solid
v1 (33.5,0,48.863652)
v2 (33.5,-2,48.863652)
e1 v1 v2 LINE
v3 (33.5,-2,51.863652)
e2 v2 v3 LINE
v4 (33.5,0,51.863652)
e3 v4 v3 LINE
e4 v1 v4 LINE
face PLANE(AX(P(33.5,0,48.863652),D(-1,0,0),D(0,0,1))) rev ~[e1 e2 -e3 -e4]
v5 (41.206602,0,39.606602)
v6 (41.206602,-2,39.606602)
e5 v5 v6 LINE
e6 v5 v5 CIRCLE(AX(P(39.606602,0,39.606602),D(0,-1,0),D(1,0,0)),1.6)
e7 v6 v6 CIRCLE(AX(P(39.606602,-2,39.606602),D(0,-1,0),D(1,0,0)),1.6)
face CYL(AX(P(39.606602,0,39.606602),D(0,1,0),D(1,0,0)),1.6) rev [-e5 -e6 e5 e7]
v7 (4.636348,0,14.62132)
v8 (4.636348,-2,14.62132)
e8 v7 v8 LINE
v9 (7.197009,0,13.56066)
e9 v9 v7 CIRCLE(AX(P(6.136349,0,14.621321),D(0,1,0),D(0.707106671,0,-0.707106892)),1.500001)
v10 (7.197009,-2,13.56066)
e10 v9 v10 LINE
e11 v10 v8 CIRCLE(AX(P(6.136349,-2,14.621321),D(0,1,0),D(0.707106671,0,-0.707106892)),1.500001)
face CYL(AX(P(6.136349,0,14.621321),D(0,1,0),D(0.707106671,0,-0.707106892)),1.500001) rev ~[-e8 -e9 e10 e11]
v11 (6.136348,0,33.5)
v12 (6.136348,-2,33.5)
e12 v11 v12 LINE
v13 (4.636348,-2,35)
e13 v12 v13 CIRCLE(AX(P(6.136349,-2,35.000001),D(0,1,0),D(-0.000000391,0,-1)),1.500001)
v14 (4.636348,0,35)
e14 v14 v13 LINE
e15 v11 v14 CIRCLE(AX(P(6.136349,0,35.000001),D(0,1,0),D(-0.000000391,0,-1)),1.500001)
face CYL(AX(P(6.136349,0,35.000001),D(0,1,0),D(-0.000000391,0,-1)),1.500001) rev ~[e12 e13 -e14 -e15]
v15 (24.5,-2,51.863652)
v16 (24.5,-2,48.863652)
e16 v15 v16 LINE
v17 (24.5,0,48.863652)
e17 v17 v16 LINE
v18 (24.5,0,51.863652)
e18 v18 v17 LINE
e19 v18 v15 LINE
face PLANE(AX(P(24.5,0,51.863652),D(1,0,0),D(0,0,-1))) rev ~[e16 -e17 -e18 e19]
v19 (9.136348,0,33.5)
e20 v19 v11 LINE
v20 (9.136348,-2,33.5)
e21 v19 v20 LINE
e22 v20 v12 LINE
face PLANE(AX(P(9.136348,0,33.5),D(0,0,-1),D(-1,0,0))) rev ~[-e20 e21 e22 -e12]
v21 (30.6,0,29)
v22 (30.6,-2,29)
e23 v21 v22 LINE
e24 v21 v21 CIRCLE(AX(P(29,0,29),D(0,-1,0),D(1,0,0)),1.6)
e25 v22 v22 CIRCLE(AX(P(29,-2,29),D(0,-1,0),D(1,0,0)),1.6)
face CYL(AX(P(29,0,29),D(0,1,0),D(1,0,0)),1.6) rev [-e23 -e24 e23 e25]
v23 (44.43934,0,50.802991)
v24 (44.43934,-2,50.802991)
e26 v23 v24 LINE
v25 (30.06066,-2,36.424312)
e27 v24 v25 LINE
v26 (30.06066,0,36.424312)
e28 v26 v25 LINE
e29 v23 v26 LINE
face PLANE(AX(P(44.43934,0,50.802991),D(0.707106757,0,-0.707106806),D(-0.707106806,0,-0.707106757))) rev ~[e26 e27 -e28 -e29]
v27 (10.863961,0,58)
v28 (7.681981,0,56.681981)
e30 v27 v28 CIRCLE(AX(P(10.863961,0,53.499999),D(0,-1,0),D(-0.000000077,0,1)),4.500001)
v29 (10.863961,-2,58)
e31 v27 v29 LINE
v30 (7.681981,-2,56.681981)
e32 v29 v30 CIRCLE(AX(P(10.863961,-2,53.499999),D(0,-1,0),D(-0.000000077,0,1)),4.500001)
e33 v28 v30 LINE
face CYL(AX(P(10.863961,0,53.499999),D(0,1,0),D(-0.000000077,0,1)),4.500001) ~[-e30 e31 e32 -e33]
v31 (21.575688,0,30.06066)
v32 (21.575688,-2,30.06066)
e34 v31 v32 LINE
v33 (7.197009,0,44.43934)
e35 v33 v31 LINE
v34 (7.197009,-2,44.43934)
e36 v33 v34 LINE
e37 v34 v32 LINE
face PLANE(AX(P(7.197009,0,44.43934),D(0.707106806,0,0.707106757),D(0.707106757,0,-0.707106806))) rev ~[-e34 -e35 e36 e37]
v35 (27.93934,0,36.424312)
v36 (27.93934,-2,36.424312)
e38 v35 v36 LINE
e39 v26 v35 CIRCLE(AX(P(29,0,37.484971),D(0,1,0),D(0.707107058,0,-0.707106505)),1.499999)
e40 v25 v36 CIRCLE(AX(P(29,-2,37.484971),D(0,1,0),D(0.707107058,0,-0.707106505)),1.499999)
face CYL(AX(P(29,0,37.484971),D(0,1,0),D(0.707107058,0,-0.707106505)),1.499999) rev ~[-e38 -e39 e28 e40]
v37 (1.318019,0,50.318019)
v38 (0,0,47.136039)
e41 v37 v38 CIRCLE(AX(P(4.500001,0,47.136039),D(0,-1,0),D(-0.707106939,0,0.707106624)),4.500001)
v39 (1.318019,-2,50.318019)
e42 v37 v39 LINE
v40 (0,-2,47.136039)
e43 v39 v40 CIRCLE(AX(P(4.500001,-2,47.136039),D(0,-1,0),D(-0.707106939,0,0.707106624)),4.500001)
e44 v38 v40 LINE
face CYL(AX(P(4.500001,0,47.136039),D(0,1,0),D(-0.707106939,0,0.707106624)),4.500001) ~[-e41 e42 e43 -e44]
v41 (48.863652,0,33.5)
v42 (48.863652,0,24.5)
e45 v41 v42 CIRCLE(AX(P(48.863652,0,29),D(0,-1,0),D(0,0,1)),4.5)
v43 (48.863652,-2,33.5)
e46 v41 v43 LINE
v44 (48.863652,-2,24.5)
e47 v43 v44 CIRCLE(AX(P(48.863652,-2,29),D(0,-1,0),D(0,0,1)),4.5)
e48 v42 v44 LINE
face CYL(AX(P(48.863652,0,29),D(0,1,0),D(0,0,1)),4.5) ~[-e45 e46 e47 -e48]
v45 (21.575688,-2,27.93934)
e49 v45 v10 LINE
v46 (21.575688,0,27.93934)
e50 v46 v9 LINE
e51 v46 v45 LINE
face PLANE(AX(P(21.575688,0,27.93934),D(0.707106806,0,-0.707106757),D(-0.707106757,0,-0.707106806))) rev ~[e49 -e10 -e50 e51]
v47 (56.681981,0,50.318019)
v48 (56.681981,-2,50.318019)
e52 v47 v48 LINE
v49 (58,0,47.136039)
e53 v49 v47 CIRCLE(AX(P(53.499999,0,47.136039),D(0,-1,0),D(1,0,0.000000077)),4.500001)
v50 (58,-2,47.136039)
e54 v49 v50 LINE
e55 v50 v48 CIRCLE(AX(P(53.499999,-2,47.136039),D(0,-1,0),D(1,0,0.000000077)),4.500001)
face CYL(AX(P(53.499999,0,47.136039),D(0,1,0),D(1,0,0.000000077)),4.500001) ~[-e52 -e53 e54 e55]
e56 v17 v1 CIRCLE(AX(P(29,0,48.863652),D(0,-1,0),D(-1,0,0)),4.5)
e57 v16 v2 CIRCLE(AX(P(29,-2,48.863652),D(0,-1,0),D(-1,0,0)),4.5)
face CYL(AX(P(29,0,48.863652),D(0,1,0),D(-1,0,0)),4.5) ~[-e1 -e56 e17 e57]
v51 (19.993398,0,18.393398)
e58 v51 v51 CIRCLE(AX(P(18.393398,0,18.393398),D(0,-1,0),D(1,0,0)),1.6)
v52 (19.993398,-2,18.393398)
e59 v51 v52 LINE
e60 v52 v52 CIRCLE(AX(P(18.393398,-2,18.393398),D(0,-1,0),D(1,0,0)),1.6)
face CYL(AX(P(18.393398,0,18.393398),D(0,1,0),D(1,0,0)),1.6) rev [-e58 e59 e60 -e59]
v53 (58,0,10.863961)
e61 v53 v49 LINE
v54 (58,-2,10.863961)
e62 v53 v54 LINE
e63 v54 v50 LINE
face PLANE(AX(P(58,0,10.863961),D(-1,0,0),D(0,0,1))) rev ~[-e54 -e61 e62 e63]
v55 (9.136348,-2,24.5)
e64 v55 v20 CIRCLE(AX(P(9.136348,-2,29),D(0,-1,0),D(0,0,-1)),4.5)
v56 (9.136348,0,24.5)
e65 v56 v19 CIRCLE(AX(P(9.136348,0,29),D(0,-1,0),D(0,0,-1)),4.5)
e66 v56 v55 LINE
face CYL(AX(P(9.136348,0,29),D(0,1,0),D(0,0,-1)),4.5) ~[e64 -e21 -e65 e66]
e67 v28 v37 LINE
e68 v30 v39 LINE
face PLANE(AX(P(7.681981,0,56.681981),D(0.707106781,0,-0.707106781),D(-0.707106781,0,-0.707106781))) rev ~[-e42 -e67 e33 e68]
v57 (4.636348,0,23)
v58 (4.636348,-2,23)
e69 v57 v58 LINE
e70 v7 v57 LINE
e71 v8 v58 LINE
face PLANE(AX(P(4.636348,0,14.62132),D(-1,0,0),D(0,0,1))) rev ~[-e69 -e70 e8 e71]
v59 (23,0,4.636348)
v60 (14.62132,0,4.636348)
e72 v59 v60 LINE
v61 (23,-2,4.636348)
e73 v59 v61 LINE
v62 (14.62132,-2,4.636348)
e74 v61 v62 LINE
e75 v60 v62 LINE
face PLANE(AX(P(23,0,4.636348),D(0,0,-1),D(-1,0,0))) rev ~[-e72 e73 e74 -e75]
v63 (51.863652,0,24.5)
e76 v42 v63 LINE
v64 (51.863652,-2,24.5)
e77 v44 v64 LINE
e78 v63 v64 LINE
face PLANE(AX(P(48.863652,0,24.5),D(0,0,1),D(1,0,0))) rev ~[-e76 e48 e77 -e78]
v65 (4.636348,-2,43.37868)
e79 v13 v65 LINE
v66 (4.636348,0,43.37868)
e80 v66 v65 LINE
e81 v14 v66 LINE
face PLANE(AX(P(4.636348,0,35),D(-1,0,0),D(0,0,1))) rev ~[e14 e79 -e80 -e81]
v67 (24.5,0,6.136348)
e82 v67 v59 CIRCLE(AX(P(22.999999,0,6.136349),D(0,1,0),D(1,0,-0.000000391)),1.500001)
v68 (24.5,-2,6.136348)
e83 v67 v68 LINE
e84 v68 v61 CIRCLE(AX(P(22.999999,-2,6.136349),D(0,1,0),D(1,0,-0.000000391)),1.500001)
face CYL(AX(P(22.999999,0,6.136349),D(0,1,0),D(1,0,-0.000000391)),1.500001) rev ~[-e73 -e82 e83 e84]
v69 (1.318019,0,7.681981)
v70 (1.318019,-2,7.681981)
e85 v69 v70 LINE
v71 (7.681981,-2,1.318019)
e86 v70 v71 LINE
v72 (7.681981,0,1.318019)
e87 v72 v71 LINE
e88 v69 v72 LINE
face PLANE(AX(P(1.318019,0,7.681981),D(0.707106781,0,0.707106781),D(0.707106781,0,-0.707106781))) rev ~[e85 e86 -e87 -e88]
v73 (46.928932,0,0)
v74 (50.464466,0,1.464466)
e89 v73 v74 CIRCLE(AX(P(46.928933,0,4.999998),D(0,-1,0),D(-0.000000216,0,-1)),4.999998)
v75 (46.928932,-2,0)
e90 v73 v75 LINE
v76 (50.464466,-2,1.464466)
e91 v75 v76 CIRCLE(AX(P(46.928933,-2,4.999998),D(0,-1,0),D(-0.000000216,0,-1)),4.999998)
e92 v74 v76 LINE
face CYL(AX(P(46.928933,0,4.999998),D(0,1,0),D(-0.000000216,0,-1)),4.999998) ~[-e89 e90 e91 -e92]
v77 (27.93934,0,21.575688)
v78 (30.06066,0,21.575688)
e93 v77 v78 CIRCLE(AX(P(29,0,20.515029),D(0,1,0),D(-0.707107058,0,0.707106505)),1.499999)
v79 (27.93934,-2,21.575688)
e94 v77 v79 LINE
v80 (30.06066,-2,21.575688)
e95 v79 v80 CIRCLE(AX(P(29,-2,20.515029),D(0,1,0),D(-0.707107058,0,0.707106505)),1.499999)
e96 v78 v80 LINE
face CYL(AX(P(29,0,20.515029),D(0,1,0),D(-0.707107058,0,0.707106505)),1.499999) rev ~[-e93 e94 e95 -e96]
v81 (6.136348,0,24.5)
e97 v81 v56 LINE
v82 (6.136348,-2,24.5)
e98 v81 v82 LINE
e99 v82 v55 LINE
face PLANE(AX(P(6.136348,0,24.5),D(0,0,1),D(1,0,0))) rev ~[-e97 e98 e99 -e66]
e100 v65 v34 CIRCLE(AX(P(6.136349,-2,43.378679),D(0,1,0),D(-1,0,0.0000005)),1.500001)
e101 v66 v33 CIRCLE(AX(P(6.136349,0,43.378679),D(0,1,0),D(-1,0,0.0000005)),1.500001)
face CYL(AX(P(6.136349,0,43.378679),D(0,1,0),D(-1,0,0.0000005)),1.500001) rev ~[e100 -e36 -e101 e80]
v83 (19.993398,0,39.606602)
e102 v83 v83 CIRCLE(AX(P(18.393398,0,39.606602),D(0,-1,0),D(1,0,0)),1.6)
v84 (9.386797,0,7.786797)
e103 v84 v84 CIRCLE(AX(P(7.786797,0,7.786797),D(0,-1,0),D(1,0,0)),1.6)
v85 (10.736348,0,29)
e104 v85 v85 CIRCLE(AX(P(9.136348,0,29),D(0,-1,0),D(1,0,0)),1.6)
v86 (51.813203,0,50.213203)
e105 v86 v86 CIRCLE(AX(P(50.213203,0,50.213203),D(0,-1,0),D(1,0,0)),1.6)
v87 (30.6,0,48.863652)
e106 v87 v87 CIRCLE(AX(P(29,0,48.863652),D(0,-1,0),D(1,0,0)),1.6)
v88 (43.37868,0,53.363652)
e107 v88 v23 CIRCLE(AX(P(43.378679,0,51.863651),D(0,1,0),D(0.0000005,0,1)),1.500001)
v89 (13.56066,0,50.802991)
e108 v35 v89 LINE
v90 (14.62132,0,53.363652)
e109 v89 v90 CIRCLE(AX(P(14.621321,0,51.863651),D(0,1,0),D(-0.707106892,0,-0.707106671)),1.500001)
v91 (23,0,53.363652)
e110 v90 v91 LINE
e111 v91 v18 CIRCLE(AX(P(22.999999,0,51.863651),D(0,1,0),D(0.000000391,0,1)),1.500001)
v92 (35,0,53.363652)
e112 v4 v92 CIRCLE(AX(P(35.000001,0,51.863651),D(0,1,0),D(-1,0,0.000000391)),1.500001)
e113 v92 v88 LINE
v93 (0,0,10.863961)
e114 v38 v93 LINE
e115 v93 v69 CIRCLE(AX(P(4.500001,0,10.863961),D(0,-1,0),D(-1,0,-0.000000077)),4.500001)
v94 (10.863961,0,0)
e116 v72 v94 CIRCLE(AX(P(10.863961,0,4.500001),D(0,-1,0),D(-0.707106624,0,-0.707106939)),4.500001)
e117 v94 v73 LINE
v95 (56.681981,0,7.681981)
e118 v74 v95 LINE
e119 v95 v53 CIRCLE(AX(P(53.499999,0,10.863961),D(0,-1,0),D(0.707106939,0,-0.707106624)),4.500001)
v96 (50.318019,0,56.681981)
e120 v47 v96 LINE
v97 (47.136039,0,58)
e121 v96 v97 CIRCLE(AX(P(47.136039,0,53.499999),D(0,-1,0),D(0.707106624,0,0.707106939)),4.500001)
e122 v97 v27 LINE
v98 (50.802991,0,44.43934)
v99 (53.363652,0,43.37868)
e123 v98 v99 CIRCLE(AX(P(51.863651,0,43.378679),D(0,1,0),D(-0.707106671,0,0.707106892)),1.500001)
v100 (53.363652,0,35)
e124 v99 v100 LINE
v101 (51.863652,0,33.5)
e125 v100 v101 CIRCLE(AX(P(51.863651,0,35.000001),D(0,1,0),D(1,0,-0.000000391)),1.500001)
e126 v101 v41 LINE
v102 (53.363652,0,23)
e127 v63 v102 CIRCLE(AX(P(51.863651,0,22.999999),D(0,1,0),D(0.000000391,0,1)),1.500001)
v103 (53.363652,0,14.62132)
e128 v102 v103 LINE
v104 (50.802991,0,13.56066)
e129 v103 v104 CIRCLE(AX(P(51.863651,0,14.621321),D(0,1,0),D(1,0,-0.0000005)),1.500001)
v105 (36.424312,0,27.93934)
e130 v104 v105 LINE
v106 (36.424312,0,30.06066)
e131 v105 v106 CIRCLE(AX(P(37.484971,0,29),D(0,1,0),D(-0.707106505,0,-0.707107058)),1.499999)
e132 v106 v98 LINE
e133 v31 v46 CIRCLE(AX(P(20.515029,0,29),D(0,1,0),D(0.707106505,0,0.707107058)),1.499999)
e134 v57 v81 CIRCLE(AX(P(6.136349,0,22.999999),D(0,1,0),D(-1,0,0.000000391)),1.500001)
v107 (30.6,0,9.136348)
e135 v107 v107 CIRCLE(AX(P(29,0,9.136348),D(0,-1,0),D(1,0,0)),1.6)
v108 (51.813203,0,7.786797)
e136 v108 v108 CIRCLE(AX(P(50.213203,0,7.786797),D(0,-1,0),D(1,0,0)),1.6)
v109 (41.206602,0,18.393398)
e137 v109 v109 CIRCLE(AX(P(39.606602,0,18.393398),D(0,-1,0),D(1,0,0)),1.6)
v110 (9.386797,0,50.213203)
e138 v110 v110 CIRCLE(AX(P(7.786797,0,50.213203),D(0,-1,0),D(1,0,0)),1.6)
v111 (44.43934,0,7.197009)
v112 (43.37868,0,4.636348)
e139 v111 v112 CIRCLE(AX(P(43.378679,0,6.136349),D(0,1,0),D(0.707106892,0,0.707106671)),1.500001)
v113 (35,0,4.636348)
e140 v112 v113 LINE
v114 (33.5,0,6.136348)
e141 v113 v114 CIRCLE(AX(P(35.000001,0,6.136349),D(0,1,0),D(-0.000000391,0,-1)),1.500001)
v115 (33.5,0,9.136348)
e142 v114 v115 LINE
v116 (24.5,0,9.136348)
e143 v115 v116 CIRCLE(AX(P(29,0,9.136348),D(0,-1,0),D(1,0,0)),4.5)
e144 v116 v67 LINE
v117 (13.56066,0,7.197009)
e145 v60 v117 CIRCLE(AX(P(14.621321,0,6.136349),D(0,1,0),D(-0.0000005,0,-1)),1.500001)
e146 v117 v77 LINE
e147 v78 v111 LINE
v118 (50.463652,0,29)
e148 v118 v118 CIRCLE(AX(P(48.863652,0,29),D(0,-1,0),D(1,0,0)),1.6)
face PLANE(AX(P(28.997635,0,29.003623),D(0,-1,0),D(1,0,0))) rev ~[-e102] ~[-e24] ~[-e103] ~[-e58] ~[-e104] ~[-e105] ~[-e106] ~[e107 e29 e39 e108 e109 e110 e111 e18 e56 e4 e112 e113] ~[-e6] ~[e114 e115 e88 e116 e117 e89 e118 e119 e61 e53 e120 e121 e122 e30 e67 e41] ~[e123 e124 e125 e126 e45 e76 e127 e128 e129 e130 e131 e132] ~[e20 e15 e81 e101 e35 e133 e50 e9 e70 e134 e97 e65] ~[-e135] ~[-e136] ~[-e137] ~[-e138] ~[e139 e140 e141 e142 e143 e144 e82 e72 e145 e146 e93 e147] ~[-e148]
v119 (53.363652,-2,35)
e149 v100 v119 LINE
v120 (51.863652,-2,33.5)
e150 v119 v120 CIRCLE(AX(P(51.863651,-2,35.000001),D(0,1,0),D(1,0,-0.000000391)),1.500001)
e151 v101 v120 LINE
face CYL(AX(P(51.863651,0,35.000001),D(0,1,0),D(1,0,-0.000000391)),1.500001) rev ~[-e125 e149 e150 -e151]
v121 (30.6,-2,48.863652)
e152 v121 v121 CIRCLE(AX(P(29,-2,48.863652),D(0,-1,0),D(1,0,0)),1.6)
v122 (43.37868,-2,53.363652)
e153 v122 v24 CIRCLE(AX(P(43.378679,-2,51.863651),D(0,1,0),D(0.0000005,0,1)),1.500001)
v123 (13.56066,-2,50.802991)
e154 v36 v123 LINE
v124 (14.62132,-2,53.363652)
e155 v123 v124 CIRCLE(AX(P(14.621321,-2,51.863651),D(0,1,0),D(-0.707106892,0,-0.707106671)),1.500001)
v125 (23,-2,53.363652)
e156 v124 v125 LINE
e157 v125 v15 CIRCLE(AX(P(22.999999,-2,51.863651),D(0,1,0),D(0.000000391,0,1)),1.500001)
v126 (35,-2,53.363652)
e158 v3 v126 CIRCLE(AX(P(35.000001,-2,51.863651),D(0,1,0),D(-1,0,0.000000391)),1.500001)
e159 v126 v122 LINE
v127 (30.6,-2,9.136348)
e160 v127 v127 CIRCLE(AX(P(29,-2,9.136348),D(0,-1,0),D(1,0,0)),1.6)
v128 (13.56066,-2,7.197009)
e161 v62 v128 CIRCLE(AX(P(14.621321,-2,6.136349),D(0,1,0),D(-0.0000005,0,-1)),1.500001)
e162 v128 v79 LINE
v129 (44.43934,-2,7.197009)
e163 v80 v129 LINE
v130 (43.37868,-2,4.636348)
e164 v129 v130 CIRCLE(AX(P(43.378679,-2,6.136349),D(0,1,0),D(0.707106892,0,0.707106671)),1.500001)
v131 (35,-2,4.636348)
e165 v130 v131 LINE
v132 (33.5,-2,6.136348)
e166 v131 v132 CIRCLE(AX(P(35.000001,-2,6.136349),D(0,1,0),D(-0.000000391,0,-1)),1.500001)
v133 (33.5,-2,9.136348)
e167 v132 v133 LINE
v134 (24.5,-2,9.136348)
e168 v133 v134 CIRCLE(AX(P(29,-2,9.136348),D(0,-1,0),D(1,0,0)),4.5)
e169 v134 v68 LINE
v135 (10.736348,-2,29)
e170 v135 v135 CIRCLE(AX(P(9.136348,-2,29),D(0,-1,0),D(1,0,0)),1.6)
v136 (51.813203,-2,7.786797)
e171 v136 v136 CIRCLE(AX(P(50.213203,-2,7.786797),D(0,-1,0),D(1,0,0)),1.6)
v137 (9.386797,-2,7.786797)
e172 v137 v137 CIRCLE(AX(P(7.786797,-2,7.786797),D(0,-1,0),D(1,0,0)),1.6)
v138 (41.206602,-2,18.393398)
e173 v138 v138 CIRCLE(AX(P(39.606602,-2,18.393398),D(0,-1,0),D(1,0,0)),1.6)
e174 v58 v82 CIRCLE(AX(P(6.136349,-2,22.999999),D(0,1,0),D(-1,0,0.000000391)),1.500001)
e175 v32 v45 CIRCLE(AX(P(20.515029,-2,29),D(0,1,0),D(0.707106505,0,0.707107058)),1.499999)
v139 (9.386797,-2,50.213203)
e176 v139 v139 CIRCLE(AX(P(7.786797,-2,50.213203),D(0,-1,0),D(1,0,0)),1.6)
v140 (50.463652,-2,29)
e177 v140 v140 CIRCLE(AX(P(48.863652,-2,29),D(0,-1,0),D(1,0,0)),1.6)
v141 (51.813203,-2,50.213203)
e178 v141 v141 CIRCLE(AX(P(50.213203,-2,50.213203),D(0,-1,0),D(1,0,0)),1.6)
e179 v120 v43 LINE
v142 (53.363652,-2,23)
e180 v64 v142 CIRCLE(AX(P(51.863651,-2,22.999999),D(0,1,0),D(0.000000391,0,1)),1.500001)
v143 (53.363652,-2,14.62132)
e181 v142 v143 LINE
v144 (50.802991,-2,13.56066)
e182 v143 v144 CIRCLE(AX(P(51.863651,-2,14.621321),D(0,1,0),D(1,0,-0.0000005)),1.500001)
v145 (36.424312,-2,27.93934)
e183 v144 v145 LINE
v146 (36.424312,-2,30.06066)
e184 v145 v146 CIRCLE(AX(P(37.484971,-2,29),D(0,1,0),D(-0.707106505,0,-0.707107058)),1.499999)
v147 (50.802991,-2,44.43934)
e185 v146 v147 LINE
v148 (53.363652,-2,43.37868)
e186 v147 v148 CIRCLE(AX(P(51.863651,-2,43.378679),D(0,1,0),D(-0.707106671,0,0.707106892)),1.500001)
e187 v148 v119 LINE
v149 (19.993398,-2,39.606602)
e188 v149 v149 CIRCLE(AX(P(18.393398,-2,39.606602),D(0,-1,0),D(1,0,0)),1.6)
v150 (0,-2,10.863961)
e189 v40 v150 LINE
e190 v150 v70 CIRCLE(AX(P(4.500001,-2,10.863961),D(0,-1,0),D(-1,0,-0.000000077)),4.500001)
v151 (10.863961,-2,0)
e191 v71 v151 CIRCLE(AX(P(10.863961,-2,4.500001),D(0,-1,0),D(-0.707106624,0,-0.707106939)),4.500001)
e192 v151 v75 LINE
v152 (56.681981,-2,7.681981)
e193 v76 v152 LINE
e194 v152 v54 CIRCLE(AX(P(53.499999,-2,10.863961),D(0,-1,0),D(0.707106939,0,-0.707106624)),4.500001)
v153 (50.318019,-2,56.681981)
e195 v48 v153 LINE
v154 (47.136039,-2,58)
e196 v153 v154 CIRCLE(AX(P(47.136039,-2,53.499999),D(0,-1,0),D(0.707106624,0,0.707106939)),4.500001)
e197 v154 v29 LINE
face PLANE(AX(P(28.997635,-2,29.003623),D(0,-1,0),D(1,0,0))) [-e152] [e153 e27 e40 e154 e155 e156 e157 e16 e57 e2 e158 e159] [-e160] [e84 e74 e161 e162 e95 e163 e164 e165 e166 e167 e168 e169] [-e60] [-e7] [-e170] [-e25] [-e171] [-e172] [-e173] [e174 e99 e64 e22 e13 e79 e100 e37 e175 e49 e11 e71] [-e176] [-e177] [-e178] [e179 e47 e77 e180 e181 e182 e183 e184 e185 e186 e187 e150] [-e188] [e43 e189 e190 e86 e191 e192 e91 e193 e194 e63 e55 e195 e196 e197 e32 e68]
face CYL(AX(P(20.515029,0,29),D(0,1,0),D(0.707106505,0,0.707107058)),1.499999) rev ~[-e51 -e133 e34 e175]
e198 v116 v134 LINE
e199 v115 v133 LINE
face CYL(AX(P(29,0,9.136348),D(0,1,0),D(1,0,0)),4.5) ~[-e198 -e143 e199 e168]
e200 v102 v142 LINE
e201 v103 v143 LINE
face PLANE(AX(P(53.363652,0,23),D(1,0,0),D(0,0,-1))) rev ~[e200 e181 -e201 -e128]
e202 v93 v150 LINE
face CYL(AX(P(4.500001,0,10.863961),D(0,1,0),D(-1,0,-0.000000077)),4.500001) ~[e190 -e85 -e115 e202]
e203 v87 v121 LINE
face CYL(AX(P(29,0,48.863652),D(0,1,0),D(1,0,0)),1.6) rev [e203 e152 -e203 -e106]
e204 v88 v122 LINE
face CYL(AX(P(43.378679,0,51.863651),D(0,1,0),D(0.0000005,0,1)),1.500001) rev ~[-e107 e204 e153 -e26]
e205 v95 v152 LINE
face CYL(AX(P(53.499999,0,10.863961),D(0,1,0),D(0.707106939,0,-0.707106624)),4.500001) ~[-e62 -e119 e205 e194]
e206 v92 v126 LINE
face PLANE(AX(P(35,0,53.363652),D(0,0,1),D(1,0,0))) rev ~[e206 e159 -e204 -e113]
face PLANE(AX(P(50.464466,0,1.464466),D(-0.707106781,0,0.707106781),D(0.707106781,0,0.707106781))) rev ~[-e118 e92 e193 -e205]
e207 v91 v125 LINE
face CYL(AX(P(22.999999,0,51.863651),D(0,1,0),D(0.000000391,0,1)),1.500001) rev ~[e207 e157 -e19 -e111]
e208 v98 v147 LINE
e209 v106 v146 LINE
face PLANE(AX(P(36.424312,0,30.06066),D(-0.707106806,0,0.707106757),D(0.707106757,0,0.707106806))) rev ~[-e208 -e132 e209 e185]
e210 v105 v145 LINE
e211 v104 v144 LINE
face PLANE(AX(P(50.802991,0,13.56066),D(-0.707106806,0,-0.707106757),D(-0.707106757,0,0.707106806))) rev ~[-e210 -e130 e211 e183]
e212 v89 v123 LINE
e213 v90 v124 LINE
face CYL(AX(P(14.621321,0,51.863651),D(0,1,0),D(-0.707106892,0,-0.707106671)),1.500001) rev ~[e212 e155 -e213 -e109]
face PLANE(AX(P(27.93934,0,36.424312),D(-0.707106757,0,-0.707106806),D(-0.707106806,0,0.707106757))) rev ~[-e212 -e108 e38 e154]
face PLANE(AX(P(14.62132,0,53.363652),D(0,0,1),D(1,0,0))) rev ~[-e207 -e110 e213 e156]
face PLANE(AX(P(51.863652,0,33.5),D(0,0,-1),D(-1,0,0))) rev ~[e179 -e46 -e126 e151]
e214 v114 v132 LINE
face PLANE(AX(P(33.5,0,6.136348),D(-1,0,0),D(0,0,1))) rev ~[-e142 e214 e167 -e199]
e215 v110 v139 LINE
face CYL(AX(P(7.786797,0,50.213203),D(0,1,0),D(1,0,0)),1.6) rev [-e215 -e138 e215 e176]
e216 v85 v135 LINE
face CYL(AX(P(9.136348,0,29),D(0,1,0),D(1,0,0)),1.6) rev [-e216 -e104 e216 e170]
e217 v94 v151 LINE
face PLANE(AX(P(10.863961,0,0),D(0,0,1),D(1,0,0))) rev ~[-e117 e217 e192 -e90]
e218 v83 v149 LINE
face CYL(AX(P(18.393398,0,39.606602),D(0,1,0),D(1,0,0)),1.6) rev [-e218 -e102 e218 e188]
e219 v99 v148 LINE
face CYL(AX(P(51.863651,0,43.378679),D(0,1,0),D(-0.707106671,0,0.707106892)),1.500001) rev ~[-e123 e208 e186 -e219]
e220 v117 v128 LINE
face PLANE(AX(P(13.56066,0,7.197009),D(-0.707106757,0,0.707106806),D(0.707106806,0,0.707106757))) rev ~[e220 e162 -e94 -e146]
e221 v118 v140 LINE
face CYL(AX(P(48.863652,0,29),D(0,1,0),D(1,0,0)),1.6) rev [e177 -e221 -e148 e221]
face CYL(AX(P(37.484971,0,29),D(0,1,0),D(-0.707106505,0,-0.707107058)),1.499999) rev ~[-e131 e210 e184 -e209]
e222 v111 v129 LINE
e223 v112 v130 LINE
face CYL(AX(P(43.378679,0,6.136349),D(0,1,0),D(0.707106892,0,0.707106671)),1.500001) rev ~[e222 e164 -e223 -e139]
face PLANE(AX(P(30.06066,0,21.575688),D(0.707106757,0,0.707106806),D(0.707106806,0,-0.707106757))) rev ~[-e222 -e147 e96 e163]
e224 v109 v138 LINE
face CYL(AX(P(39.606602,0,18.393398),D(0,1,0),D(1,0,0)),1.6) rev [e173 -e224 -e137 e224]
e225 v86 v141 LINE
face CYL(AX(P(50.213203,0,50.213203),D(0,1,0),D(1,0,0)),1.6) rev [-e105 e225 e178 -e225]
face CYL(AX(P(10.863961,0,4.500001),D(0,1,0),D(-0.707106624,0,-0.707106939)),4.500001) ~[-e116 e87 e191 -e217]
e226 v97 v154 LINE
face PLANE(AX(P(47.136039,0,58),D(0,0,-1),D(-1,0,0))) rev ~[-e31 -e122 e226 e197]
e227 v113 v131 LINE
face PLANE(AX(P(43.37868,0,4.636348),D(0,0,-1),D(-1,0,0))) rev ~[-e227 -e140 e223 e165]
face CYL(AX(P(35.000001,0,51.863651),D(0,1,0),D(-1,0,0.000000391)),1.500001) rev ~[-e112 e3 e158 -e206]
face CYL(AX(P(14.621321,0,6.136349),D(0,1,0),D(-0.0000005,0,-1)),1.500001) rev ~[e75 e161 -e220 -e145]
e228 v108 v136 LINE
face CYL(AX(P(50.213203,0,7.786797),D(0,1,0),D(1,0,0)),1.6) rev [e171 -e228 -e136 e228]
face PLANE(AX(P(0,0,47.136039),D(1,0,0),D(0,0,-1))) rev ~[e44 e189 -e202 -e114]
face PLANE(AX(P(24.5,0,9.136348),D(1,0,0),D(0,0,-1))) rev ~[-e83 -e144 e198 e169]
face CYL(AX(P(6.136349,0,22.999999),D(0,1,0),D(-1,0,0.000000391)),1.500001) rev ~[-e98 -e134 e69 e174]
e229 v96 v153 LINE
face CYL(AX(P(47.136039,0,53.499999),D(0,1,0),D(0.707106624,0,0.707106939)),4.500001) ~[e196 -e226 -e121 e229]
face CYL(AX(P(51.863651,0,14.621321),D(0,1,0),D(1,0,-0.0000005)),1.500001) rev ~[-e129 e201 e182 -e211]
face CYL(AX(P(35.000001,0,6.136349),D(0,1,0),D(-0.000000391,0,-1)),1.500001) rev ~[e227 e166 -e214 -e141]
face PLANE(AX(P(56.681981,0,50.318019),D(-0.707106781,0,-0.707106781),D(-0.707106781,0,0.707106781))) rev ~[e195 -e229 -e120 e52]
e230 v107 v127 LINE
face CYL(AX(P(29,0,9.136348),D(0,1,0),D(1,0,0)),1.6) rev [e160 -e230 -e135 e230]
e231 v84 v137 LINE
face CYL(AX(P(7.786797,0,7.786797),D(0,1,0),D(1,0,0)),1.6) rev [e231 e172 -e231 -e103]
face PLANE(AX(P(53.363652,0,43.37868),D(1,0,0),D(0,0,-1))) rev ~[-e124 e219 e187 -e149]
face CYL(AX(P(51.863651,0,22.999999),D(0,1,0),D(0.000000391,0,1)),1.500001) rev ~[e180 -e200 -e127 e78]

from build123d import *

# Parameters (mm, degrees)
F1_R     = 1.6
F2_DEPTH = 2


with BuildPart() as f2:
    # F1 (on Front) → F2 (new body)
    with BuildSketch(Plane.XZ):
        with BuildLine():
            Line((47.136039, 58), (10.863961, 58))
            ThreePointArc((10.863961, 58), (9.141886, 57.657458), (7.681981, 56.681981))
            Line((7.681981, 56.681981), (1.318019, 50.318019))
            ThreePointArc((1.318019, 50.318019), (0.342542, 48.858114), (0, 47.136039))
            Line((0, 47.136039), (0, 10.863961))
            ThreePointArc((0, 10.863961), (0.342542, 9.141886), (1.318019, 7.681981))
            Line((1.318019, 7.681981), (7.681981, 1.318019))
            ThreePointArc((7.681981, 1.318019), (9.141886, 0.342542), (10.863961, 0))
            Line((10.863961, 0), (46.928932, 0))
            ThreePointArc((46.928932, 0), (48.842349, 0.380602), (50.464466, 1.464466))
            Line((50.464466, 1.464466), (56.681981, 7.681981))
            ThreePointArc((56.681981, 7.681981), (57.657458, 9.141886), (58, 10.863961))
            Line((58, 10.863961), (58, 47.136039))
            ThreePointArc((58, 47.136039), (57.657458, 48.858114), (56.681981, 50.318019))
            Line((56.681981, 50.318019), (50.318019, 56.681981))
            ThreePointArc((50.318019, 56.681981), (48.858114, 57.657458), (47.136039, 58))
        make_face()
        with Locations((7.786797, 7.786797)):
            Circle(F1_R, mode=Mode.SUBTRACT)
        with BuildLine():
            ThreePointArc((7.197009, 13.56066), (5.562323, 13.235501), (4.636348, 14.62132))
            Line((4.636348, 14.62132), (4.636348, 23))
            ThreePointArc((4.636348, 23), (5.075688, 24.06066), (6.136348, 24.5))
            Line((6.136348, 24.5), (9.136348, 24.5))
            ThreePointArc((9.136348, 24.5), (13.636348, 29), (9.136348, 33.5))
            Line((9.136348, 33.5), (6.136348, 33.5))
            ThreePointArc((6.136348, 33.5), (5.075688, 33.93934), (4.636348, 35))
            Line((4.636348, 35), (4.636348, 43.37868))
            ThreePointArc((4.636348, 43.37868), (5.562323, 44.764499), (7.197009, 44.43934))
            Line((7.197009, 44.43934), (21.575688, 30.06066))
            ThreePointArc((21.575688, 30.06066), (22.015028, 29), (21.575688, 27.93934))
            Line((21.575688, 27.93934), (7.197009, 13.56066))
        make_face(mode=Mode.SUBTRACT)
        with Locations((18.393398, 18.393398)):
            Circle(F1_R, mode=Mode.SUBTRACT)
        with Locations((29, 9.136348)):
            Circle(F1_R, mode=Mode.SUBTRACT)
        with BuildLine():
            Line((33.5, 6.136348), (33.5, 9.136348))
            ThreePointArc((33.5, 9.136348), (29, 13.636348), (24.5, 9.136348))
            Line((24.5, 9.136348), (24.5, 6.136348))
            ThreePointArc((24.5, 6.136348), (24.06066, 5.075688), (23, 4.636348))
            Line((23, 4.636348), (14.62132, 4.636348))
            ThreePointArc((14.62132, 4.636348), (13.235501, 5.562323), (13.56066, 7.197009))
            Line((13.56066, 7.197009), (27.93934, 21.575688))
            ThreePointArc((27.93934, 21.575688), (29, 22.015028), (30.06066, 21.575688))
            Line((30.06066, 21.575688), (44.43934, 7.197009))
            ThreePointArc((44.43934, 7.197009), (44.764499, 5.562323), (43.37868, 4.636348))
            Line((43.37868, 4.636348), (35, 4.636348))
            ThreePointArc((35, 4.636348), (33.93934, 5.075688), (33.5, 6.136348))
        make_face(mode=Mode.SUBTRACT)
        with Locations((50.213203, 7.786797)):
            Circle(F1_R, mode=Mode.SUBTRACT)
        with Locations((39.606602, 18.393398)):
            Circle(F1_R, mode=Mode.SUBTRACT)
        with BuildLine():
            ThreePointArc((50.802991, 44.43934), (52.437677, 44.764499), (53.363652, 43.37868))
            Line((53.363652, 43.37868), (53.363652, 35))
            ThreePointArc((53.363652, 35), (52.924312, 33.93934), (51.863652, 33.5))
            Line((51.863652, 33.5), (48.863652, 33.5))
            ThreePointArc((48.863652, 33.5), (44.363652, 29), (48.863652, 24.5))
            Line((48.863652, 24.5), (51.863652, 24.5))
            ThreePointArc((51.863652, 24.5), (52.924312, 24.06066), (53.363652, 23))
            Line((53.363652, 23), (53.363652, 14.62132))
            ThreePointArc((53.363652, 14.62132), (52.437677, 13.235501), (50.802991, 13.56066))
            Line((50.802991, 13.56066), (36.424312, 27.93934))
            ThreePointArc((36.424312, 27.93934), (35.984972, 29), (36.424312, 30.06066))
            Line((36.424312, 30.06066), (50.802991, 44.43934))
        make_face(mode=Mode.SUBTRACT)
        with Locations((9.136348, 29)):
            Circle(F1_R, mode=Mode.SUBTRACT)
        with Locations((18.393398, 39.606602)):
            Circle(F1_R, mode=Mode.SUBTRACT)
        with Locations((7.786797, 50.213203)):
            Circle(F1_R, mode=Mode.SUBTRACT)
        with Locations((29, 29)):
            Circle(F1_R, mode=Mode.SUBTRACT)
        with Locations((39.606602, 39.606602)):
            Circle(F1_R, mode=Mode.SUBTRACT)
        with Locations((48.863652, 29)):
            Circle(F1_R, mode=Mode.SUBTRACT)
        with BuildLine():
            ThreePointArc((13.56066, 50.802991), (13.235501, 52.437677), (14.62132, 53.363652))
            Line((14.62132, 53.363652), (23, 53.363652))
            ThreePointArc((23, 53.363652), (24.06066, 52.924312), (24.5, 51.863652))
            Line((24.5, 51.863652), (24.5, 48.863652))
            ThreePointArc((24.5, 48.863652), (29, 44.363652), (33.5, 48.863652))
            Line((33.5, 48.863652), (33.5, 51.863652))
            ThreePointArc((33.5, 51.863652), (33.93934, 52.924312), (35, 53.363652))
            Line((35, 53.363652), (43.37868, 53.363652))
            ThreePointArc((43.37868, 53.363652), (44.764499, 52.437677), (44.43934, 50.802991))
            Line((44.43934, 50.802991), (30.06066, 36.424312))
            ThreePointArc((30.06066, 36.424312), (29, 35.984972), (27.93934, 36.424312))
            Line((27.93934, 36.424312), (13.56066, 50.802991))
        make_face(mode=Mode.SUBTRACT)
        with Locations((29, 48.863652)):
            Circle(F1_R, mode=Mode.SUBTRACT)
        with Locations((50.213203, 50.213203)):
            Circle(F1_R, mode=Mode.SUBTRACT)
    extrude(amount=F2_DEPTH)


solid = f2.part
